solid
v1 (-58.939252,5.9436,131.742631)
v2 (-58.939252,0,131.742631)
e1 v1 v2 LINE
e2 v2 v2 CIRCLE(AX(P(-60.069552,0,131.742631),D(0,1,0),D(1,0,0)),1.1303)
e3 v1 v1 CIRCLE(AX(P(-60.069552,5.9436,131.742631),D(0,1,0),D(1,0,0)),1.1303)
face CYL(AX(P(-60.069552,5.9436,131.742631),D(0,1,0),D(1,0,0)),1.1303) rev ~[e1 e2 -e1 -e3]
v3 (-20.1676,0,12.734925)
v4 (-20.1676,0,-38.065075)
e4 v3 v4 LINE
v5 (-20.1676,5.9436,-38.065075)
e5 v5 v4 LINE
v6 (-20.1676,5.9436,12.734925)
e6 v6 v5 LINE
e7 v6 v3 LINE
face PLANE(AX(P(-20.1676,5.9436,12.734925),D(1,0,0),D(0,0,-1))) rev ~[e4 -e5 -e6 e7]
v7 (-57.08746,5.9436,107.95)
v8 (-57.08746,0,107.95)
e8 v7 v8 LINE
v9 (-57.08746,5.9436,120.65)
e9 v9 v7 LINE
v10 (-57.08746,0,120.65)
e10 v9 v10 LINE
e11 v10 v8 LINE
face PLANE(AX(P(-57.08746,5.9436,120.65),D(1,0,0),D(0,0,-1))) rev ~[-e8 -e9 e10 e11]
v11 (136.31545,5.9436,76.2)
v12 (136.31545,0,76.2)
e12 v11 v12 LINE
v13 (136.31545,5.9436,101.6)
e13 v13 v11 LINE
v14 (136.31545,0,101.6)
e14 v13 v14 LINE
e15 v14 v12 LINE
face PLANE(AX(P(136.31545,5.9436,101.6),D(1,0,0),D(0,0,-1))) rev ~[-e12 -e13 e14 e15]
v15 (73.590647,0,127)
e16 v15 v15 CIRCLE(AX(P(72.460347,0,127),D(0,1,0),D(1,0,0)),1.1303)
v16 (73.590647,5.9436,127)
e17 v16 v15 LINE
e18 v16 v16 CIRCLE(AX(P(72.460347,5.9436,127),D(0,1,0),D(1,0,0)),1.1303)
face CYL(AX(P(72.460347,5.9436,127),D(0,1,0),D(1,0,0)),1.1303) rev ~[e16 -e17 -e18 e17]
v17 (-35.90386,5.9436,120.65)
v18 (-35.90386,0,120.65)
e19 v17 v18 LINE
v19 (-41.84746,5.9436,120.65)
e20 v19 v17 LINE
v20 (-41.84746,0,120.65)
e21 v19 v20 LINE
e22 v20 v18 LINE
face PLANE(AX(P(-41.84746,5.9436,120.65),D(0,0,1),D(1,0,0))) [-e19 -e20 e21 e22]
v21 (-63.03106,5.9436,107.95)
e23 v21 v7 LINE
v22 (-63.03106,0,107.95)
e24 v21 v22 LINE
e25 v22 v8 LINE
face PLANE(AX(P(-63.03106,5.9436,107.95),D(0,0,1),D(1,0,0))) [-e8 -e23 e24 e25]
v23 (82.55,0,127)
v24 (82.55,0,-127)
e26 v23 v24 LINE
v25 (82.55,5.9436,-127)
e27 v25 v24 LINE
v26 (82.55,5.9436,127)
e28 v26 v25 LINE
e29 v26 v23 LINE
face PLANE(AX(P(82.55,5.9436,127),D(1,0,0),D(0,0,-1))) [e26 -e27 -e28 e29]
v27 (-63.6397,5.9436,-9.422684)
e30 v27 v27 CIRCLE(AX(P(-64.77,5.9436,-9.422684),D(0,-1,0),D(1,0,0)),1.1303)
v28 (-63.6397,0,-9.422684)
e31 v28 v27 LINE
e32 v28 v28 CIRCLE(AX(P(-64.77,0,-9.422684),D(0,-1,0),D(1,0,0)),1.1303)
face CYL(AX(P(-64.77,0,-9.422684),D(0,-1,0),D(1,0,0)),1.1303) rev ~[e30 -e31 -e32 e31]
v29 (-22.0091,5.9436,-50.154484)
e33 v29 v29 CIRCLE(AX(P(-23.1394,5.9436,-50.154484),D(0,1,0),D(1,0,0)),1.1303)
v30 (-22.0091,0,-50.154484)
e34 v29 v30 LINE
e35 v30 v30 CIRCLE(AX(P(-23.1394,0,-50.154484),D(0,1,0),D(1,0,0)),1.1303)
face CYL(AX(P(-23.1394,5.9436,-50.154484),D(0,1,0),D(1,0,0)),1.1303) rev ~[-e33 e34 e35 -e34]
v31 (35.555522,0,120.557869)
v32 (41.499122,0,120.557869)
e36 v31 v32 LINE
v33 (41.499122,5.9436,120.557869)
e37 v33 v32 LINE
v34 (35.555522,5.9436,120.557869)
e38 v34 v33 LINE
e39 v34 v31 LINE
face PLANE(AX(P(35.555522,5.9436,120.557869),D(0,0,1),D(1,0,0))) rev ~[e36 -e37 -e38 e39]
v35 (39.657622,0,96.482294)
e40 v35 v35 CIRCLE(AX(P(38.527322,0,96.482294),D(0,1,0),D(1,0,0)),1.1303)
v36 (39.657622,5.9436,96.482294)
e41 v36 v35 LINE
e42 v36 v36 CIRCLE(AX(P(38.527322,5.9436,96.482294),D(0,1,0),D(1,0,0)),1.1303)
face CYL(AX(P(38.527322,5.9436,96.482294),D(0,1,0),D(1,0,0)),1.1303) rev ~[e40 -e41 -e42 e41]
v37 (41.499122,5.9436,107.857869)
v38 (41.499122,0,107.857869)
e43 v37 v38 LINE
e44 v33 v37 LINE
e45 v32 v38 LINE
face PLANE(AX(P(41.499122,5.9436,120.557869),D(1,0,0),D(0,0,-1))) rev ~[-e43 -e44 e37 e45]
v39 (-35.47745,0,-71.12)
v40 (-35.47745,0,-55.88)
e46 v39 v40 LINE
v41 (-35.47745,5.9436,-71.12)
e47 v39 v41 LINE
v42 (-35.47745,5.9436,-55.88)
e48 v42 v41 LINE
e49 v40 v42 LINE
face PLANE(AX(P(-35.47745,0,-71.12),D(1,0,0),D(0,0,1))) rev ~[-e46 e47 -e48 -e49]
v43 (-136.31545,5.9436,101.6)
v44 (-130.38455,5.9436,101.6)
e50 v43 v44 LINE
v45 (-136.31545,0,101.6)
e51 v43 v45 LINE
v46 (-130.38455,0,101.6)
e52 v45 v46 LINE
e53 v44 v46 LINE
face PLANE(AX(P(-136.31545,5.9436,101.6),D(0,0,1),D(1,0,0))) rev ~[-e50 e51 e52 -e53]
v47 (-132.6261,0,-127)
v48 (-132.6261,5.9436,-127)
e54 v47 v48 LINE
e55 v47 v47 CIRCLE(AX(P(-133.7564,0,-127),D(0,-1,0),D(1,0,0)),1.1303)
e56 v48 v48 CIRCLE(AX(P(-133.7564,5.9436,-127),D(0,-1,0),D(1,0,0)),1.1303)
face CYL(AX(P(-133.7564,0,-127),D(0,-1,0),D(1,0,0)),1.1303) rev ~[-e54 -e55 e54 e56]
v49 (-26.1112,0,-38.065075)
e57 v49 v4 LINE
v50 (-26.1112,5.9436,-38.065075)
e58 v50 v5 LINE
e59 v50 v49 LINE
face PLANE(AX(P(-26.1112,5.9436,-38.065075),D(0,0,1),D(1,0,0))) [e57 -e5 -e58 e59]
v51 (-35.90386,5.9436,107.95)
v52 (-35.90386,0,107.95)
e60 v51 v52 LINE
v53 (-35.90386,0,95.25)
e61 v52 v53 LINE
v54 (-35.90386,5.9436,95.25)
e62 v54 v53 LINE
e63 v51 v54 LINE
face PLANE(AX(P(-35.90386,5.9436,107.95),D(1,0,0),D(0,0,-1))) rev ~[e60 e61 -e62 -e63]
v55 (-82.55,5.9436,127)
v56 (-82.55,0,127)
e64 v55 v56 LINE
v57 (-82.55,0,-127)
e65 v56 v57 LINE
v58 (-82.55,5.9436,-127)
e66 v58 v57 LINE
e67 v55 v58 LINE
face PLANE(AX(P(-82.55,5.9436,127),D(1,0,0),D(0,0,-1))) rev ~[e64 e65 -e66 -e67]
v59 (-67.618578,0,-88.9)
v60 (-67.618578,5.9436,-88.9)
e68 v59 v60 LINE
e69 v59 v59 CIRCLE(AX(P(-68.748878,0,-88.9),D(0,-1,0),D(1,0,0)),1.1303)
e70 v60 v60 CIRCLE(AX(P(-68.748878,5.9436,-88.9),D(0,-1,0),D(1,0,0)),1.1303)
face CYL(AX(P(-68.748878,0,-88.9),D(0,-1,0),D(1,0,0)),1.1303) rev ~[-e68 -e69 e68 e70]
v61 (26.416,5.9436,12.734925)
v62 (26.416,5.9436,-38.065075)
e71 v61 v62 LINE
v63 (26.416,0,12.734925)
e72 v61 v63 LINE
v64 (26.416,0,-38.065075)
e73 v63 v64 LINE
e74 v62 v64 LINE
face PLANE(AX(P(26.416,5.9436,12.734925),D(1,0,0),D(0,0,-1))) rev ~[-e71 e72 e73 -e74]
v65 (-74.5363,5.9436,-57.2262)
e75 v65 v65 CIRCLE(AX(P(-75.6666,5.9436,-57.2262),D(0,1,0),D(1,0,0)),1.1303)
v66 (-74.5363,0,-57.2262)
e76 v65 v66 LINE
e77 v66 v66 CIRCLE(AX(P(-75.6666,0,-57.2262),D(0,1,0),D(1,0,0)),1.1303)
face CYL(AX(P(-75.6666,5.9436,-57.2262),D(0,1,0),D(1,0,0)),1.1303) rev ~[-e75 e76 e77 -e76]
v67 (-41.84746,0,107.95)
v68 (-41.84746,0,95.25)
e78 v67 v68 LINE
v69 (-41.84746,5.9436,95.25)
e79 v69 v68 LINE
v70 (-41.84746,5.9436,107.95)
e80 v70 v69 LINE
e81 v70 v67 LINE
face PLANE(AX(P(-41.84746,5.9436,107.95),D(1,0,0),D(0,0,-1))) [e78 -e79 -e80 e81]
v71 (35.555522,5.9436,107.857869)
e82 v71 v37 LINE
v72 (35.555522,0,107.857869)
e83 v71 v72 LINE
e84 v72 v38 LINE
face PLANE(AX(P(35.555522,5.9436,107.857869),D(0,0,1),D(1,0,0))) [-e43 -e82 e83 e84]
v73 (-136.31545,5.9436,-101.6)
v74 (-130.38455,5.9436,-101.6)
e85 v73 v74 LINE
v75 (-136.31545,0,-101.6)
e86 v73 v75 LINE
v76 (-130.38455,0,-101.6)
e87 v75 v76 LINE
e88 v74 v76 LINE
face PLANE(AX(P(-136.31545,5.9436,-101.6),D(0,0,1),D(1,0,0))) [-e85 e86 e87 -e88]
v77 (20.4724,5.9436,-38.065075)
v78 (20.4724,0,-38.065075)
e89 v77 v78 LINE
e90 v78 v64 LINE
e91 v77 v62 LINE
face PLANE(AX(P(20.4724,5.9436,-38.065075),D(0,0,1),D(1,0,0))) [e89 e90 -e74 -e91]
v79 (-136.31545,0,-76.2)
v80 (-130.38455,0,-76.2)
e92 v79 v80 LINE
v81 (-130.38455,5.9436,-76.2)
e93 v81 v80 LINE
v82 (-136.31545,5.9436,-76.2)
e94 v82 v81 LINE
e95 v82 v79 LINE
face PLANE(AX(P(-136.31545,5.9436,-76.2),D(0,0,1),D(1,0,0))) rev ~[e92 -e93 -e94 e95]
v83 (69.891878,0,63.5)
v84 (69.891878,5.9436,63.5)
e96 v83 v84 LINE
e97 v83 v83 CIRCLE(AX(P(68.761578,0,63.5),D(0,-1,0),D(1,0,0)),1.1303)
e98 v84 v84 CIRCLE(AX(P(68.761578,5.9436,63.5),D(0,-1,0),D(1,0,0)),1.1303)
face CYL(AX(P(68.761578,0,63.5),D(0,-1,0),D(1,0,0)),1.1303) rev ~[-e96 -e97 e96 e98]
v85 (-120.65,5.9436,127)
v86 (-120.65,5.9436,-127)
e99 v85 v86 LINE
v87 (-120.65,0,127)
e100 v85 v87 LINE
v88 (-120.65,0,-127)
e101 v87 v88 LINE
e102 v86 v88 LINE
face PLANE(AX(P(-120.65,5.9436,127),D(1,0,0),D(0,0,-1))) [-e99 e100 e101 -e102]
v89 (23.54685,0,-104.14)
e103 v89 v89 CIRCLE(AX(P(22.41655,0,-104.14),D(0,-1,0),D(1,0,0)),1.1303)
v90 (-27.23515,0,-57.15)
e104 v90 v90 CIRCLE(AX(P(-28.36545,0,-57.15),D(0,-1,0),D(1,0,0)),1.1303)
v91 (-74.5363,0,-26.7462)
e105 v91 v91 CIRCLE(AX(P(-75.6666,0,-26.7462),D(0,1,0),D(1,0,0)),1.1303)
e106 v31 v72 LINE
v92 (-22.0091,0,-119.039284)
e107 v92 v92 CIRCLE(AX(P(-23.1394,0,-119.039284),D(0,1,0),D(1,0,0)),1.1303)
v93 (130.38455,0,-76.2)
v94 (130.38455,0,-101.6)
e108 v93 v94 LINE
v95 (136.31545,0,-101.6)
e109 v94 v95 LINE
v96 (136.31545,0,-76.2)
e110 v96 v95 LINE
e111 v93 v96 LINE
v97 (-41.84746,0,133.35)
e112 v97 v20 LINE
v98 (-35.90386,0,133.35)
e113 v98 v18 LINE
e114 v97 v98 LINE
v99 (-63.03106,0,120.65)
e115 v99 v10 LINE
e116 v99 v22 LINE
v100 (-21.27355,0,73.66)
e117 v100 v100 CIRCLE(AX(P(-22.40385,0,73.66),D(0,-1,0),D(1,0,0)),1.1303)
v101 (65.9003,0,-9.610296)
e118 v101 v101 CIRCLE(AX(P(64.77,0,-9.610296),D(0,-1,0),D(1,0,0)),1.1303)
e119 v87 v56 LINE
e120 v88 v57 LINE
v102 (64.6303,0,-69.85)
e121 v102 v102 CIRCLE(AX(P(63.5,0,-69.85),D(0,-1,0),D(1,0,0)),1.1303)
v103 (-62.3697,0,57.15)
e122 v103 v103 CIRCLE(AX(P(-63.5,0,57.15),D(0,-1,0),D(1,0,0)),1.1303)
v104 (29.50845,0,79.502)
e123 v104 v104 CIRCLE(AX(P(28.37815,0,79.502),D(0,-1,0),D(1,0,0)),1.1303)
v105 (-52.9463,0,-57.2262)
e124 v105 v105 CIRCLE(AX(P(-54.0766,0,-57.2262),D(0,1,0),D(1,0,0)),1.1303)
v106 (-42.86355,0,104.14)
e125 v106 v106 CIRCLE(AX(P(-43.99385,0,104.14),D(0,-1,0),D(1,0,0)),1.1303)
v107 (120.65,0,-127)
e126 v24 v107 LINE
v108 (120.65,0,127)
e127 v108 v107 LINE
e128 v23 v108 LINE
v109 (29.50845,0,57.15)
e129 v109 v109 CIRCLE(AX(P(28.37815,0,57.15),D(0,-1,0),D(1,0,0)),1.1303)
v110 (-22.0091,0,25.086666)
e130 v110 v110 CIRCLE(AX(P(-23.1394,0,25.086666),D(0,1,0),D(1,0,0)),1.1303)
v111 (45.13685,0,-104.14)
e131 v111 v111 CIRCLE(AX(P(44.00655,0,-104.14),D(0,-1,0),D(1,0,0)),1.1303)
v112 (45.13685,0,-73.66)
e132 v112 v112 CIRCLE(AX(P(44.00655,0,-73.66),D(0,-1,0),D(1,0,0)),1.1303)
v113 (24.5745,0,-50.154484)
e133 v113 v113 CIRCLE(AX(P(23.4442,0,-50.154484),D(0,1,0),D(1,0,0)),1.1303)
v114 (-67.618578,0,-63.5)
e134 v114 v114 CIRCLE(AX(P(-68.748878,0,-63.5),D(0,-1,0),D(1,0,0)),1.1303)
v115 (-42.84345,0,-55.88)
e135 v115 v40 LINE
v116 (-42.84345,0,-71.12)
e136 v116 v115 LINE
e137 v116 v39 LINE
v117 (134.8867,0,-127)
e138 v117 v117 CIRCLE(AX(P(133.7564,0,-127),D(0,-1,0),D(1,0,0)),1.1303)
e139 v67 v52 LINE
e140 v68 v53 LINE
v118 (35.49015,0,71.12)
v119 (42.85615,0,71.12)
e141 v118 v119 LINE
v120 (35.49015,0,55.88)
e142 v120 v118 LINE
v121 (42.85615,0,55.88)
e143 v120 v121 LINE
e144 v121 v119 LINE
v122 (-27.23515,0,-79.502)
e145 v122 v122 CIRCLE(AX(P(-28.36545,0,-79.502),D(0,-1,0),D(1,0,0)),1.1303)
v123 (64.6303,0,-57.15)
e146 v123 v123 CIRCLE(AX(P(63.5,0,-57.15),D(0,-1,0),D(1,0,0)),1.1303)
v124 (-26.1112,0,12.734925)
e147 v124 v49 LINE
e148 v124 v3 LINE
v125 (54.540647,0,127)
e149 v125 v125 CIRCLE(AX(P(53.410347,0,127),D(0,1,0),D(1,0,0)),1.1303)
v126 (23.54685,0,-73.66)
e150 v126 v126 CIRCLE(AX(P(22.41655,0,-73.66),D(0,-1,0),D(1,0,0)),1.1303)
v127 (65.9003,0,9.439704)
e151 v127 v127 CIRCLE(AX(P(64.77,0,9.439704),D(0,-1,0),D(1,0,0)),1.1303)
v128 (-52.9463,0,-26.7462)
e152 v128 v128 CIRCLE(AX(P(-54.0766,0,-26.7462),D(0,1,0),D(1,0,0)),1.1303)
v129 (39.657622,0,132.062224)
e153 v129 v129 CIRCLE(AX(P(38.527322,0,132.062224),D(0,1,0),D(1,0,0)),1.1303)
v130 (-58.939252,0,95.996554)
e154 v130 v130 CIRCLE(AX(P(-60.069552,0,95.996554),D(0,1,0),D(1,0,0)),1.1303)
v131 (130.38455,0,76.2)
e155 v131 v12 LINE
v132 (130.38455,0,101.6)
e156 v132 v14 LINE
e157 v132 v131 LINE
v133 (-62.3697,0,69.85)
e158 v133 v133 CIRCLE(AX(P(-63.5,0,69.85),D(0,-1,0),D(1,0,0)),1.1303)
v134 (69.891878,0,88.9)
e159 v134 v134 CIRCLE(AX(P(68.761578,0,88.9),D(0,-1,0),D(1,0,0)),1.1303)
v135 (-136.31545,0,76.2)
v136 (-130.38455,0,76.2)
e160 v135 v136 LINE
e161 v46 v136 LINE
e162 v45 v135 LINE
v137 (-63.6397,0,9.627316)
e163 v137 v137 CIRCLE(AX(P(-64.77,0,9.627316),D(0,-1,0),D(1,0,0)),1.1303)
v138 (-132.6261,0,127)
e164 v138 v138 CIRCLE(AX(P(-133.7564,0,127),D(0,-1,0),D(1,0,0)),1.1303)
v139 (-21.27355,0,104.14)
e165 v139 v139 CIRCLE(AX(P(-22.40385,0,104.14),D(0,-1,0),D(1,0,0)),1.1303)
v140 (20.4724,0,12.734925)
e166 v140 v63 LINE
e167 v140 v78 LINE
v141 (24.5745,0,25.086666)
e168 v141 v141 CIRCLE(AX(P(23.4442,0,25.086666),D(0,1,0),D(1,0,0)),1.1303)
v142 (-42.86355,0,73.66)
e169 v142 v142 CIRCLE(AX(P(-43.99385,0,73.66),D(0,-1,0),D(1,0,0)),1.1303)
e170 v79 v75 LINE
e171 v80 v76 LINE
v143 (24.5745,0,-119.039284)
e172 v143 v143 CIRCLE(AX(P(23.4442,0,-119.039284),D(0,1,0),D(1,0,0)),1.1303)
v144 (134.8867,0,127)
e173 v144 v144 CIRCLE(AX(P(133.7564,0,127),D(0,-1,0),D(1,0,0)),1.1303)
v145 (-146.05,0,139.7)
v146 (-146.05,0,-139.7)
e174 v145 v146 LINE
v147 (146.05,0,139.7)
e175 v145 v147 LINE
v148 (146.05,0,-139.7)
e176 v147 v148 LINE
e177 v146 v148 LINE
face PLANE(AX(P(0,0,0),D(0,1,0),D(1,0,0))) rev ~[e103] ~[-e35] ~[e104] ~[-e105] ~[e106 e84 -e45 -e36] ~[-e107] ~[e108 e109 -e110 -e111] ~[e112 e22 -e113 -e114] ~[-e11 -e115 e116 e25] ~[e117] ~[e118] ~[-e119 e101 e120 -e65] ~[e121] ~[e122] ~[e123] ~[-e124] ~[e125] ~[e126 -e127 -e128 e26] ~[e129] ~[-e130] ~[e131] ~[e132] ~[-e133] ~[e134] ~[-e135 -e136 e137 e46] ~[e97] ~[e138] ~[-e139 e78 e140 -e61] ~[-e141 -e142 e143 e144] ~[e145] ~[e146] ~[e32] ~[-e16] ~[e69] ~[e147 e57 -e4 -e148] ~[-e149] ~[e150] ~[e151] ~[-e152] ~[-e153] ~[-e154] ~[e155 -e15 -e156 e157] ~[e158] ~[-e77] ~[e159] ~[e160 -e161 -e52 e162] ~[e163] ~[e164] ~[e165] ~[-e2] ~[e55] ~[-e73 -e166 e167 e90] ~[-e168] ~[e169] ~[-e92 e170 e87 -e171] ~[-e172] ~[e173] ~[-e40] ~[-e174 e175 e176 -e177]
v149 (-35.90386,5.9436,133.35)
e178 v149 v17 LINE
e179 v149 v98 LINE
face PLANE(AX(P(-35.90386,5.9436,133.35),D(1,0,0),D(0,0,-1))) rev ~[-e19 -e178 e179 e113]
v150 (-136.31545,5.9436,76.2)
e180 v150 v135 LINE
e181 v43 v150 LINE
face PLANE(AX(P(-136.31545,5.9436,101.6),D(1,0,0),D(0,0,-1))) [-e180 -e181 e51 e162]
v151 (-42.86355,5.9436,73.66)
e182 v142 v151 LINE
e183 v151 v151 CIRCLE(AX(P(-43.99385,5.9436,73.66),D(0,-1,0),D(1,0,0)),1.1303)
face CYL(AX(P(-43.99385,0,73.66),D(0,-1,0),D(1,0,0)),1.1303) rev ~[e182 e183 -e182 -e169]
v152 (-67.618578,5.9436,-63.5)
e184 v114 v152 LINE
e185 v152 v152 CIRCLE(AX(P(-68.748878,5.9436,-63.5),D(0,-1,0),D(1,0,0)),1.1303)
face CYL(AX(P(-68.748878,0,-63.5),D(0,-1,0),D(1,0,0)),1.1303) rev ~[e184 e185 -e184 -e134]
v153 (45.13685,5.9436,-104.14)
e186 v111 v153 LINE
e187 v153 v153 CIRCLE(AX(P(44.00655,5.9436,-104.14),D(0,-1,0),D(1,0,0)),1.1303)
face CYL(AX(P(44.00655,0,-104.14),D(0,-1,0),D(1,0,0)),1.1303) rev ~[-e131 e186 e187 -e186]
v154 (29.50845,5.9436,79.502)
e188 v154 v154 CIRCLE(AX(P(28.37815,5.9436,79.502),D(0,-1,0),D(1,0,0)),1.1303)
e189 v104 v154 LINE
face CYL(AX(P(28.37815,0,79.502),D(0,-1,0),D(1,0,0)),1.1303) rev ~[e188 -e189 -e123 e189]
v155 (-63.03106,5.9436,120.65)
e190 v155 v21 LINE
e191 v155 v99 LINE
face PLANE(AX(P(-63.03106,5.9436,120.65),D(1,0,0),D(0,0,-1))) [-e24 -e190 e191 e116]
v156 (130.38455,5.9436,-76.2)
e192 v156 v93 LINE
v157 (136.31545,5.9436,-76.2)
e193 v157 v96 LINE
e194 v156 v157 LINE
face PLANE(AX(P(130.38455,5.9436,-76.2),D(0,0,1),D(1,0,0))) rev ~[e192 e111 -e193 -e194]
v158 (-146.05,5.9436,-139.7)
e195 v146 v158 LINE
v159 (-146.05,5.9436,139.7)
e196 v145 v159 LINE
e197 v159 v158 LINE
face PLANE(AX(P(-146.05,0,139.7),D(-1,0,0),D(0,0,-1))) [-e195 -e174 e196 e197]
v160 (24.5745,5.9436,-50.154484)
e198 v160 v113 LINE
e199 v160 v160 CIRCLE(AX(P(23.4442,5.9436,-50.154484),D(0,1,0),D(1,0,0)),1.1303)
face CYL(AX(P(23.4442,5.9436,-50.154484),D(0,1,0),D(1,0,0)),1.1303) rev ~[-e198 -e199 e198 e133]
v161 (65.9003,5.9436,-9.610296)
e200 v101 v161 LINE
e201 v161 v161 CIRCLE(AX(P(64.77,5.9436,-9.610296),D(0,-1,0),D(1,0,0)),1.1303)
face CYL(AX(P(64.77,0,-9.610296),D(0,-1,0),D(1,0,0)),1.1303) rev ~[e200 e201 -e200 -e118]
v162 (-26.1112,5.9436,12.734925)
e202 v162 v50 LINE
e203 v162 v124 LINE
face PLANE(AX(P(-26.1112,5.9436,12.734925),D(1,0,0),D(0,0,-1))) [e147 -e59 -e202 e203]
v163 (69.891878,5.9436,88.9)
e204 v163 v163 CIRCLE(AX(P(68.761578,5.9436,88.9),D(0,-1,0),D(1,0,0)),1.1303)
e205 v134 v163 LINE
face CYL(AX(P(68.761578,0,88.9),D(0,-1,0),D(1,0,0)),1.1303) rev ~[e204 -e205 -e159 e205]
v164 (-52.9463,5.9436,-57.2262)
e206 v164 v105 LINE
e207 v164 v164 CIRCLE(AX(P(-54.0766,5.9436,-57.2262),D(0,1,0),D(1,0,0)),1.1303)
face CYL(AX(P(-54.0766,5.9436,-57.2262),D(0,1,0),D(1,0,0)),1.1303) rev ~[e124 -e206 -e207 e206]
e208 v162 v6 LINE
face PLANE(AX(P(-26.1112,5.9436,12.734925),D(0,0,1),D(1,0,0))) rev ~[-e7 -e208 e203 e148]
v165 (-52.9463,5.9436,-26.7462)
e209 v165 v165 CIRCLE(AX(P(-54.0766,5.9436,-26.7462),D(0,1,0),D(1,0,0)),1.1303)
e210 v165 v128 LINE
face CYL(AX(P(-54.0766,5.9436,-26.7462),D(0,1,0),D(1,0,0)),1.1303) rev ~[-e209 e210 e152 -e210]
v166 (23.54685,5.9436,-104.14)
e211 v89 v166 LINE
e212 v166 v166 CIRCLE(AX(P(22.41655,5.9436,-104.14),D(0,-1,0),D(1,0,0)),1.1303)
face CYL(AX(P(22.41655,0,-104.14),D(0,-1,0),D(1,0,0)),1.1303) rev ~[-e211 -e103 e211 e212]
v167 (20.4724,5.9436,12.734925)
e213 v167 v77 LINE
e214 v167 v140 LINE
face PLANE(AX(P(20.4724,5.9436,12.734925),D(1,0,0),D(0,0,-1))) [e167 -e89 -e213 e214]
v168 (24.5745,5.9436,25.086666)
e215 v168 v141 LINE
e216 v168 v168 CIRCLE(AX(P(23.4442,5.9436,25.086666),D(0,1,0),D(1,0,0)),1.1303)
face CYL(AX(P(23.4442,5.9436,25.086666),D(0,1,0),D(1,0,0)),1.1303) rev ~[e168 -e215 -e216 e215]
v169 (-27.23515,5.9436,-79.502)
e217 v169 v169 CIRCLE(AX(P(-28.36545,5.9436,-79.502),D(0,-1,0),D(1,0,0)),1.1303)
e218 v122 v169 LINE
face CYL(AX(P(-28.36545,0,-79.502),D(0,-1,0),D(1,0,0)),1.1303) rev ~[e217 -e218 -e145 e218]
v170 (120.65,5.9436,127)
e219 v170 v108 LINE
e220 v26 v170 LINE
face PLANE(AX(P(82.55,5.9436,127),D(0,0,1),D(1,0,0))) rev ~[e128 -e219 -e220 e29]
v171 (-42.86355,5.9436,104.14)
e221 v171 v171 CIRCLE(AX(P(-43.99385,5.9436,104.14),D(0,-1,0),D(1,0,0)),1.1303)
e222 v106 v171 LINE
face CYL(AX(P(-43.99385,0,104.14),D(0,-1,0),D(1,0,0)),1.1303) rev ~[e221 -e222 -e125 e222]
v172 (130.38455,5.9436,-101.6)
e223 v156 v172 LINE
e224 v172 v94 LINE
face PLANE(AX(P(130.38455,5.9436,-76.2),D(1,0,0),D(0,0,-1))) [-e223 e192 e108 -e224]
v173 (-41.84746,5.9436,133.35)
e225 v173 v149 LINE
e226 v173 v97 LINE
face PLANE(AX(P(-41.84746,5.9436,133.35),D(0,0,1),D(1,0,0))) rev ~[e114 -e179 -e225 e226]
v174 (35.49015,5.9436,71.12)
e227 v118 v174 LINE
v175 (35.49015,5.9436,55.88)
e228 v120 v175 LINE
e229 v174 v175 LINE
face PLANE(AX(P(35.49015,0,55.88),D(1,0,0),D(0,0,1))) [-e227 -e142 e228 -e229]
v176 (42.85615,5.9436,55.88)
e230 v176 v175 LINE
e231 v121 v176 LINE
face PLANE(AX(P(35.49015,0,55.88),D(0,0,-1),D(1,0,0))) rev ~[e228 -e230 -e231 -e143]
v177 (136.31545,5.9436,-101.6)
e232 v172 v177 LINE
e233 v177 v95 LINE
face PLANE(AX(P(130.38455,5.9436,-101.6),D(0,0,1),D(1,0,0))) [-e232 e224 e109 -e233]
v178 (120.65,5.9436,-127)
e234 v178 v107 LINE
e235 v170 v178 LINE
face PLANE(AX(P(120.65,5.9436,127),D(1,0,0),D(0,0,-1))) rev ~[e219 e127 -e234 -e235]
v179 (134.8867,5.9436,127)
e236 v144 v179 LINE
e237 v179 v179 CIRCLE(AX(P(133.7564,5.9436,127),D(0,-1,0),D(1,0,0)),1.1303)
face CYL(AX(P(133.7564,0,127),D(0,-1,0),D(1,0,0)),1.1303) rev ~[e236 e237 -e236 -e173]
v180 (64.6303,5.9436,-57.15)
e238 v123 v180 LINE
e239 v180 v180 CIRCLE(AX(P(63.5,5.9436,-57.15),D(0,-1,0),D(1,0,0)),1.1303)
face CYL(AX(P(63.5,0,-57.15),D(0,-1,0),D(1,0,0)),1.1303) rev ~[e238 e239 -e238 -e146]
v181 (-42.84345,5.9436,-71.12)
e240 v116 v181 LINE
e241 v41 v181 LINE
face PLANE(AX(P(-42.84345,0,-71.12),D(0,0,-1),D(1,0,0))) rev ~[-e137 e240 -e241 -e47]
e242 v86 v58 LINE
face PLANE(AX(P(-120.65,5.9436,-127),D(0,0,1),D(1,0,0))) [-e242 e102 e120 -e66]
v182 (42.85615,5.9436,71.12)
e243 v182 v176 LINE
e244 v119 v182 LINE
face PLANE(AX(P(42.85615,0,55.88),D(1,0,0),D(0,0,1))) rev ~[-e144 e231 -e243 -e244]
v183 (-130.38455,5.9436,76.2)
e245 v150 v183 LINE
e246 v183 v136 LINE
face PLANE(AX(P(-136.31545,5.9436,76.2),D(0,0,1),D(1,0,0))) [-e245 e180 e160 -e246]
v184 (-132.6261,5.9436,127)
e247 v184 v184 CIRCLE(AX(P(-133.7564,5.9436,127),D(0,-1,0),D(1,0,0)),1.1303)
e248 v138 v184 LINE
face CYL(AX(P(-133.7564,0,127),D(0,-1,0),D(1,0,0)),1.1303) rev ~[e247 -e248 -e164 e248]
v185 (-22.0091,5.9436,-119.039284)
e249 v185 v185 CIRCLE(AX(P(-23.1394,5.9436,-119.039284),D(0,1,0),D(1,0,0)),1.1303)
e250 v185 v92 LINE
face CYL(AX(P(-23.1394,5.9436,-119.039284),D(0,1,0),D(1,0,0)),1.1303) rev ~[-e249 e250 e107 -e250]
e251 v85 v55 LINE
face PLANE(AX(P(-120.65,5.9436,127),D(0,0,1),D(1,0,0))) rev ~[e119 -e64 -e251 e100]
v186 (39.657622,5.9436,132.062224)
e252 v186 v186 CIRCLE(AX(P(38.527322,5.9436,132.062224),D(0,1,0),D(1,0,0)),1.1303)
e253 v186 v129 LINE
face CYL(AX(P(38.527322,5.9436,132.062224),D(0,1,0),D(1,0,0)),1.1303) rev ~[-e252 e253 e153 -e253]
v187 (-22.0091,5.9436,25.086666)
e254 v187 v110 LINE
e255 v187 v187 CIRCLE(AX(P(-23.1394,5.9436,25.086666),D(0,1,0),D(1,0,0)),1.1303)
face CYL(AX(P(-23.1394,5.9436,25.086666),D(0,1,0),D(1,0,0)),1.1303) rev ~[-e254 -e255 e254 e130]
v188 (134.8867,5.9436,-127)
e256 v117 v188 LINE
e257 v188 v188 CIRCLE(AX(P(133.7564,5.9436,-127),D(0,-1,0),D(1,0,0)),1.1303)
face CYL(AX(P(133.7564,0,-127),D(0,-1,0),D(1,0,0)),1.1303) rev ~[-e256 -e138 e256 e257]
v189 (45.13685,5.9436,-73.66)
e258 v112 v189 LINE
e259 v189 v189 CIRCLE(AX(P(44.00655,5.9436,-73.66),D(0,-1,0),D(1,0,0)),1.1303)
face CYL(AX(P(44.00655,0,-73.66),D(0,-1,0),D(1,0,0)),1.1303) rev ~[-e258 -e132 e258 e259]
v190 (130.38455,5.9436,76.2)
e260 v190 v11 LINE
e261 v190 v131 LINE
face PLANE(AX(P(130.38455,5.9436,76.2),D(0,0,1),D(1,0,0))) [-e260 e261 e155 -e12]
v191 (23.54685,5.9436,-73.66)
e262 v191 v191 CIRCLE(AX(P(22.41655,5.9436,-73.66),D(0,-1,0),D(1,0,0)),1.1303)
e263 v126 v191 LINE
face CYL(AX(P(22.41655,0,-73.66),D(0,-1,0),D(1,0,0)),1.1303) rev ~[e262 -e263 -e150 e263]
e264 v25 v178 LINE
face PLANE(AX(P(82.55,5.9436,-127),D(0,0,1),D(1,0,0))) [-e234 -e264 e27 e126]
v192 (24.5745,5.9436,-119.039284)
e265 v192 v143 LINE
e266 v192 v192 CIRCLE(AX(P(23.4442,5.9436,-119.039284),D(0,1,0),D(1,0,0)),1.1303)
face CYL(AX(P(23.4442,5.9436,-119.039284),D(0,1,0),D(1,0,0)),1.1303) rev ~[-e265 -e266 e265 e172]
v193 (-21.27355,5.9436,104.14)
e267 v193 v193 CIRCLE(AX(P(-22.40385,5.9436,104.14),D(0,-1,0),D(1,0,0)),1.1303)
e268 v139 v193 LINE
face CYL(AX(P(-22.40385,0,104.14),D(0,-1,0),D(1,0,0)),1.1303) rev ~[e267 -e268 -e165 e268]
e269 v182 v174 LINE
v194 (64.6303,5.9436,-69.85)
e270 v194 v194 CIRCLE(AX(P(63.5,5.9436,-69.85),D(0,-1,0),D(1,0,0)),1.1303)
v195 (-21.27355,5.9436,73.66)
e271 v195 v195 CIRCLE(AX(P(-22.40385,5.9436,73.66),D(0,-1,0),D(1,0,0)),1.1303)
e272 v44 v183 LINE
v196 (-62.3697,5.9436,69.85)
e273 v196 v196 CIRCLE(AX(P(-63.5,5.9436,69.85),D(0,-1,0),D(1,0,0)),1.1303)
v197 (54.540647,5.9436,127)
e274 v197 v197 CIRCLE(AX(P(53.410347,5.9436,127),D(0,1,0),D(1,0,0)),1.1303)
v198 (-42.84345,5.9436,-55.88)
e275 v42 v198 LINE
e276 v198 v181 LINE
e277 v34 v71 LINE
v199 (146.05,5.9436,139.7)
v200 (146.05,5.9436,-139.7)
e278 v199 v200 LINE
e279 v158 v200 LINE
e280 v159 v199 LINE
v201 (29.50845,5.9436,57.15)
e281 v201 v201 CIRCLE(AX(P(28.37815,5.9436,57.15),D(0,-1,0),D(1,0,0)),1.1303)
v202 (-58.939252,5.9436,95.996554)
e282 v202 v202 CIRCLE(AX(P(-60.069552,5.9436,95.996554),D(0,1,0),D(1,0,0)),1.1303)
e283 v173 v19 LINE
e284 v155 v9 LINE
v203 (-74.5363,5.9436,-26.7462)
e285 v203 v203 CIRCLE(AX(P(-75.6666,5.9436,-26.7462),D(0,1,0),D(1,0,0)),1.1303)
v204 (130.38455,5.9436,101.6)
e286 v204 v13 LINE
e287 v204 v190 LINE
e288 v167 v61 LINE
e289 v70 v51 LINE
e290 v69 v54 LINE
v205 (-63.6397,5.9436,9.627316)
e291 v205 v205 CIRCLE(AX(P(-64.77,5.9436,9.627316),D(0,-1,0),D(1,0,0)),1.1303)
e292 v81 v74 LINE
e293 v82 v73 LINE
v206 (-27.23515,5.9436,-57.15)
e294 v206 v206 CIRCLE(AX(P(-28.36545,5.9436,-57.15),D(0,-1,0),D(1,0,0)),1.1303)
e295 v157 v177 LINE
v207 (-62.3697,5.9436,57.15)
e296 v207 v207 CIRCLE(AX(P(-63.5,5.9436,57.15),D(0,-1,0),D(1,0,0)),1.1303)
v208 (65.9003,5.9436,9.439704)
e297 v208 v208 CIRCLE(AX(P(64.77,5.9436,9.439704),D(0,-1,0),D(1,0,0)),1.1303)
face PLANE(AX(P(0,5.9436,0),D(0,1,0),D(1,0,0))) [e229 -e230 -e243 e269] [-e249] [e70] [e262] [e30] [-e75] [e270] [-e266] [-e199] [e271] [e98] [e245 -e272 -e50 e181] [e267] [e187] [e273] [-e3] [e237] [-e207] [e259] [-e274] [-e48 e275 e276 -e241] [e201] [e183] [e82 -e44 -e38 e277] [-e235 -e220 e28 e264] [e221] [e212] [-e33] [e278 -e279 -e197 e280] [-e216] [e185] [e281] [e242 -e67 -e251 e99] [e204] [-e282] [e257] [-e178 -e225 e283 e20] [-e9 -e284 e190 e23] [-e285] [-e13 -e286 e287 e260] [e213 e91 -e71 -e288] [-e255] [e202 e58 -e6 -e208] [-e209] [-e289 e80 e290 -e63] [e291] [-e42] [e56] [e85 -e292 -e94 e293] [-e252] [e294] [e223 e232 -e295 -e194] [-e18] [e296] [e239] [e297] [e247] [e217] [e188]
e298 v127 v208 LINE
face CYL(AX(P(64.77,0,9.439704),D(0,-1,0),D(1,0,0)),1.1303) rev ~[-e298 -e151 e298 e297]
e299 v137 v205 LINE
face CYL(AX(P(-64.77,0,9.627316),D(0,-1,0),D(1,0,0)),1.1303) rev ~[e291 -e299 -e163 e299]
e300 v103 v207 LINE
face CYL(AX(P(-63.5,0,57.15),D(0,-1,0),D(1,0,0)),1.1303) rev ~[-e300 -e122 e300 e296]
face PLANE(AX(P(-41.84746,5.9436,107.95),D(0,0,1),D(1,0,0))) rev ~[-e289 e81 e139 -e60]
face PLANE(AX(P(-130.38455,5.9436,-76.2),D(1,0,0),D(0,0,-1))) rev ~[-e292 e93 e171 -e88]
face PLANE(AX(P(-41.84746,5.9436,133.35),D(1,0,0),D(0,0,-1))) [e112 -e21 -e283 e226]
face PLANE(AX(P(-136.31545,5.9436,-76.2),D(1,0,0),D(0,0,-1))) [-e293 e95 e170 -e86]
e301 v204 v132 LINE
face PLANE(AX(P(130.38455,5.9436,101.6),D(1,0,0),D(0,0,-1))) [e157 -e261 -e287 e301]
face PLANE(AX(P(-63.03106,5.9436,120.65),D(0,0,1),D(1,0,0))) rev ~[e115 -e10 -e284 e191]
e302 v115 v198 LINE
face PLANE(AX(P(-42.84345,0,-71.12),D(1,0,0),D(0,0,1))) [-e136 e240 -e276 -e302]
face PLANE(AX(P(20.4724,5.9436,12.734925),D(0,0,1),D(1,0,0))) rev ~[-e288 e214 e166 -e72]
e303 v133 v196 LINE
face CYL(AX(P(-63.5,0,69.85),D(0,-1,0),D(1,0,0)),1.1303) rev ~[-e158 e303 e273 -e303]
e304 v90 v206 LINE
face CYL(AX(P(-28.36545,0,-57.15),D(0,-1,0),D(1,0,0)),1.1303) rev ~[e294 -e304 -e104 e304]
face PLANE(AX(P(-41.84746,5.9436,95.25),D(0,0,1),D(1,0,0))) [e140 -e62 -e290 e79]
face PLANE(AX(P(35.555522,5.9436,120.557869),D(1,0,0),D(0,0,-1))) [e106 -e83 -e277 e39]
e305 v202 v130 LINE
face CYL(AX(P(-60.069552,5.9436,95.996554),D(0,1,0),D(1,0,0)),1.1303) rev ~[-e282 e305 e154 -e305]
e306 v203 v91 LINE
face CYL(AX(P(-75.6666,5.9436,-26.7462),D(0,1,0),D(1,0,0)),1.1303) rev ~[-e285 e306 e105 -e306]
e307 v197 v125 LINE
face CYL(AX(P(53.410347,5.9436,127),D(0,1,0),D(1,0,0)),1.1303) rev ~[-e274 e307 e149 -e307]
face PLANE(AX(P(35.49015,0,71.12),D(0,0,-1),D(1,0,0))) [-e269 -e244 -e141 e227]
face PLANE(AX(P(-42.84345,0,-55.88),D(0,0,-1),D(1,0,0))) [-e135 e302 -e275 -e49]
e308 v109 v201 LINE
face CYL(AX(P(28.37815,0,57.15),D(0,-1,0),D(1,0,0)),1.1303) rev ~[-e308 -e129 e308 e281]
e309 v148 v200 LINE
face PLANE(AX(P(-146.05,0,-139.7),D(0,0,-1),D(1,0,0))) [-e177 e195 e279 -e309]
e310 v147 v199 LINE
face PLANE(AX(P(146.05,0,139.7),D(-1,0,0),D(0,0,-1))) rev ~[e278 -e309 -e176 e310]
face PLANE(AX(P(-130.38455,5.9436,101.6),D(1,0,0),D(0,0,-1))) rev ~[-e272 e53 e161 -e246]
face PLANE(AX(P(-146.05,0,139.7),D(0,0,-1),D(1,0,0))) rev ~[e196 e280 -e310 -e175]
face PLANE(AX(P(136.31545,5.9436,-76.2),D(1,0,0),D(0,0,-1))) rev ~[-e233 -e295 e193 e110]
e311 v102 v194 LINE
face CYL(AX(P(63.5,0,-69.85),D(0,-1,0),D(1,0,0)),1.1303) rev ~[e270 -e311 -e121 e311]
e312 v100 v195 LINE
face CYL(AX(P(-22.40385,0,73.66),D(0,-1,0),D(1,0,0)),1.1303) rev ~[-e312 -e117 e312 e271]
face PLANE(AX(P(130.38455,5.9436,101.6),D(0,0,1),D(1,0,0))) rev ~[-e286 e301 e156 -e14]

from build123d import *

# Parameters (mm, degrees)
SKETCH1_W           = 292.1
SKETCH1_H           = 279.4
BOSS_EXTRUDE1_DEPTH = 5.9436
SKETCH2_W           = 38.1
SKETCH2_H           = 254
SKETCH2_W_2         = 5.9309
SKETCH2_H_2         = 25.4
CUT_EXTRUDE1_DEPTH  = 6.9436
SKETCH5_R           = 1.1303
SKETCH5_W           = 7.366
SKETCH5_H           = 15.24
CUT_EXTRUDE2_DEPTH  = 6.9436
SKETCH7_R           = 1.1303
SKETCH7_W           = 5.9436
SKETCH7_H           = 12.7
CUT_EXTRUDE3_DEPTH  = 6.9436
SKETCH9_R           = 1.1303
CUT_EXTRUDE4_DEPTH  = 6.9436
SKETCH10_W          = 5.9436
SKETCH10_H          = 50.8
CUT_EXTRUDE5_DEPTH  = 6.9436
SKETCH12_R          = 1.1303
CUT_EXTRUDE6_DEPTH  = 6.9436


with BuildPart() as part:
    # Sketch1 → Boss-Extrude1 (new body)
    with BuildSketch(Plane(origin=(0, 0, 0), x_dir=(1, 0, 0), z_dir=(0, 1, 0))):
        Rectangle(SKETCH1_W, SKETCH1_H)
    extrude(amount=BOSS_EXTRUDE1_DEPTH)

    # Sketch2 → Cut-Extrude1 (cut, through all)
    with BuildSketch(Plane(origin=(0, 5.9436, 0), x_dir=(1, 0, 0), z_dir=(0, 1, 0))):
        with Locations((-101.6, 0)):
            Rectangle(SKETCH2_W, SKETCH2_H)
        with Locations((101.6, 0)):
            Rectangle(SKETCH2_W, SKETCH2_H)
        with Locations((133.35, 88.9)):
            Rectangle(SKETCH2_W_2, SKETCH2_H_2)
        with Locations((-133.35, 88.9)):
            Rectangle(SKETCH2_W_2, SKETCH2_H_2)
        with Locations((133.35, -88.9)):
            Rectangle(SKETCH2_W_2, SKETCH2_H_2)
        with Locations((-133.35, -88.9)):
            Rectangle(SKETCH2_W_2, SKETCH2_H_2)
    extrude(amount=-CUT_EXTRUDE1_DEPTH, mode=Mode.SUBTRACT)

    # Sketch5 → Cut-Extrude2 (cut, through all)
    with BuildSketch(Plane.XZ):
        with Locations((-43.99385, 104.14)):
            Circle(SKETCH5_R)
        with Locations((-22.40385, 104.14)):
            Circle(SKETCH5_R)
        with Locations((-43.99385, 73.66)):
            Circle(SKETCH5_R)
        with Locations((-22.40385, 73.66)):
            Circle(SKETCH5_R)
        with Locations((28.37815, 79.502)):
            Circle(SKETCH5_R)
        with Locations((28.37815, 57.15)):
            Circle(SKETCH5_R)
        with Locations((68.761578288, 88.9)):
            Circle(SKETCH5_R)
        with Locations((68.761578288, 63.5)):
            Circle(SKETCH5_R)
        with Locations((-63.5, 69.85)):
            Circle(SKETCH5_R)
        with Locations((44.00655, -73.66)):
            Circle(SKETCH5_R)
        with Locations((44.00655, -104.14)):
            Circle(SKETCH5_R)
        with Locations((22.41655, -104.14)):
            Circle(SKETCH5_R)
        with Locations((22.41655, -73.66)):
            Circle(SKETCH5_R)
        with Locations((-28.36545, -79.502)):
            Circle(SKETCH5_R)
        with Locations((-28.36545, -57.15)):
            Circle(SKETCH5_R)
        with Locations((-68.748878288, -63.5)):
            Circle(SKETCH5_R)
        with Locations((-68.748878288, -88.9)):
            Circle(SKETCH5_R)
        with Locations((-63.5, 57.15)):
            Circle(SKETCH5_R)
        with Locations((63.5, -69.85)):
            Circle(SKETCH5_R)
        with Locations((63.5, -57.15)):
            Circle(SKETCH5_R)
        with Locations((-64.77, 9.627315903)):
            Circle(SKETCH5_R)
        with Locations((-64.77, -9.422684097)):
            Circle(SKETCH5_R)
        with Locations((64.77, -9.610296009)):
            Circle(SKETCH5_R)
        with Locations((64.77, 9.439703991)):
            Circle(SKETCH5_R)
        with Locations((-133.7564, -127)):
            Circle(SKETCH5_R)
        with Locations((-133.7564, 127)):
            Circle(SKETCH5_R)
        with Locations((133.7564, -127)):
            Circle(SKETCH5_R)
        with Locations((133.7564, 127)):
            Circle(SKETCH5_R)
        with Locations((39.17315, 63.5)):
            Rectangle(SKETCH5_W, SKETCH5_H)
        with Locations((-39.16045, -63.5)):
            Rectangle(SKETCH5_W, SKETCH5_H)
    extrude(amount=-CUT_EXTRUDE2_DEPTH, mode=Mode.SUBTRACT)

    # Sketch7 → Cut-Extrude3 (cut, through all)
    with BuildSketch(Plane(origin=(0, 5.9436, 0), x_dir=(1, 0, 0), z_dir=(0, 1, 0))):
        with Locations((53.410346989, -127)):
            Circle(SKETCH7_R)
        with Locations((72.460346989, -127)):
            Circle(SKETCH7_R)
        with Locations((-60.069552222, -95.996553949)):
            Circle(SKETCH7_R)
        with Locations((-60.069552222, -131.742630767)):
            Circle(SKETCH7_R)
        with Locations((38.527322113, -96.482293749)):
            Circle(SKETCH7_R)
        with Locations((38.527322113, -132.062224084)):
            Circle(SKETCH7_R)
        with Locations((-60.059259893, -114.3)):
            Rectangle(SKETCH7_W, SKETCH7_H)
        with Locations((-38.875659893, -101.6)):
            Rectangle(SKETCH7_W, SKETCH7_H)
        with Locations((-38.875659893, -127)):
            Rectangle(SKETCH7_W, SKETCH7_H)
        with Locations((38.527322113, -114.207868653)):
            Rectangle(SKETCH7_W, SKETCH7_H)
    extrude(amount=-CUT_EXTRUDE3_DEPTH, mode=Mode.SUBTRACT)

    # Sketch9 → Cut-Extrude4 (cut, through all)
    with BuildSketch(Plane(origin=(0, 5.9436, 0), x_dir=(1, 0, 0), z_dir=(0, 1, 0))):
        with Locations((23.4442, 50.154484486)):
            Circle(SKETCH9_R)
        with Locations((23.4442, 119.039284486)):
            Circle(SKETCH9_R)
        with Locations((23.4442, -25.086665514)):
            Circle(SKETCH9_R)
        with Locations((-23.1394, 119.039284486)):
            Circle(SKETCH9_R)
        with Locations((-23.1394, 50.154484486)):
            Circle(SKETCH9_R)
        with Locations((-23.1394, -25.086665514)):
            Circle(SKETCH9_R)
    extrude(amount=-CUT_EXTRUDE4_DEPTH, mode=Mode.SUBTRACT)

    # Sketch10 → Cut-Extrude5 (cut, through all)
    with BuildSketch(Plane(origin=(0, 5.9436, 0), x_dir=(1, 0, 0), z_dir=(0, 1, 0))):
        with Locations((23.4442, 12.665075)):
            Rectangle(SKETCH10_W, SKETCH10_H)
        with Locations((-23.1394, 12.665075)):
            Rectangle(SKETCH10_W, SKETCH10_H)
    extrude(amount=-CUT_EXTRUDE5_DEPTH, mode=Mode.SUBTRACT)

    # Sketch12 → Cut-Extrude6 (cut, through all)
    with BuildSketch(Plane(origin=(0, 5.9436, 0), x_dir=(1, 0, 0), z_dir=(0, 1, 0))):
        with Locations((-75.6666, 26.7462)):
            Circle(SKETCH12_R)
        with Locations((-75.6666, 57.2262)):
            Circle(SKETCH12_R)
        with Locations((-54.0766, 57.2262)):
            Circle(SKETCH12_R)
        with Locations((-54.0766, 26.7462)):
            Circle(SKETCH12_R)
    extrude(amount=-CUT_EXTRUDE6_DEPTH, mode=Mode.SUBTRACT)


solid = part.part
